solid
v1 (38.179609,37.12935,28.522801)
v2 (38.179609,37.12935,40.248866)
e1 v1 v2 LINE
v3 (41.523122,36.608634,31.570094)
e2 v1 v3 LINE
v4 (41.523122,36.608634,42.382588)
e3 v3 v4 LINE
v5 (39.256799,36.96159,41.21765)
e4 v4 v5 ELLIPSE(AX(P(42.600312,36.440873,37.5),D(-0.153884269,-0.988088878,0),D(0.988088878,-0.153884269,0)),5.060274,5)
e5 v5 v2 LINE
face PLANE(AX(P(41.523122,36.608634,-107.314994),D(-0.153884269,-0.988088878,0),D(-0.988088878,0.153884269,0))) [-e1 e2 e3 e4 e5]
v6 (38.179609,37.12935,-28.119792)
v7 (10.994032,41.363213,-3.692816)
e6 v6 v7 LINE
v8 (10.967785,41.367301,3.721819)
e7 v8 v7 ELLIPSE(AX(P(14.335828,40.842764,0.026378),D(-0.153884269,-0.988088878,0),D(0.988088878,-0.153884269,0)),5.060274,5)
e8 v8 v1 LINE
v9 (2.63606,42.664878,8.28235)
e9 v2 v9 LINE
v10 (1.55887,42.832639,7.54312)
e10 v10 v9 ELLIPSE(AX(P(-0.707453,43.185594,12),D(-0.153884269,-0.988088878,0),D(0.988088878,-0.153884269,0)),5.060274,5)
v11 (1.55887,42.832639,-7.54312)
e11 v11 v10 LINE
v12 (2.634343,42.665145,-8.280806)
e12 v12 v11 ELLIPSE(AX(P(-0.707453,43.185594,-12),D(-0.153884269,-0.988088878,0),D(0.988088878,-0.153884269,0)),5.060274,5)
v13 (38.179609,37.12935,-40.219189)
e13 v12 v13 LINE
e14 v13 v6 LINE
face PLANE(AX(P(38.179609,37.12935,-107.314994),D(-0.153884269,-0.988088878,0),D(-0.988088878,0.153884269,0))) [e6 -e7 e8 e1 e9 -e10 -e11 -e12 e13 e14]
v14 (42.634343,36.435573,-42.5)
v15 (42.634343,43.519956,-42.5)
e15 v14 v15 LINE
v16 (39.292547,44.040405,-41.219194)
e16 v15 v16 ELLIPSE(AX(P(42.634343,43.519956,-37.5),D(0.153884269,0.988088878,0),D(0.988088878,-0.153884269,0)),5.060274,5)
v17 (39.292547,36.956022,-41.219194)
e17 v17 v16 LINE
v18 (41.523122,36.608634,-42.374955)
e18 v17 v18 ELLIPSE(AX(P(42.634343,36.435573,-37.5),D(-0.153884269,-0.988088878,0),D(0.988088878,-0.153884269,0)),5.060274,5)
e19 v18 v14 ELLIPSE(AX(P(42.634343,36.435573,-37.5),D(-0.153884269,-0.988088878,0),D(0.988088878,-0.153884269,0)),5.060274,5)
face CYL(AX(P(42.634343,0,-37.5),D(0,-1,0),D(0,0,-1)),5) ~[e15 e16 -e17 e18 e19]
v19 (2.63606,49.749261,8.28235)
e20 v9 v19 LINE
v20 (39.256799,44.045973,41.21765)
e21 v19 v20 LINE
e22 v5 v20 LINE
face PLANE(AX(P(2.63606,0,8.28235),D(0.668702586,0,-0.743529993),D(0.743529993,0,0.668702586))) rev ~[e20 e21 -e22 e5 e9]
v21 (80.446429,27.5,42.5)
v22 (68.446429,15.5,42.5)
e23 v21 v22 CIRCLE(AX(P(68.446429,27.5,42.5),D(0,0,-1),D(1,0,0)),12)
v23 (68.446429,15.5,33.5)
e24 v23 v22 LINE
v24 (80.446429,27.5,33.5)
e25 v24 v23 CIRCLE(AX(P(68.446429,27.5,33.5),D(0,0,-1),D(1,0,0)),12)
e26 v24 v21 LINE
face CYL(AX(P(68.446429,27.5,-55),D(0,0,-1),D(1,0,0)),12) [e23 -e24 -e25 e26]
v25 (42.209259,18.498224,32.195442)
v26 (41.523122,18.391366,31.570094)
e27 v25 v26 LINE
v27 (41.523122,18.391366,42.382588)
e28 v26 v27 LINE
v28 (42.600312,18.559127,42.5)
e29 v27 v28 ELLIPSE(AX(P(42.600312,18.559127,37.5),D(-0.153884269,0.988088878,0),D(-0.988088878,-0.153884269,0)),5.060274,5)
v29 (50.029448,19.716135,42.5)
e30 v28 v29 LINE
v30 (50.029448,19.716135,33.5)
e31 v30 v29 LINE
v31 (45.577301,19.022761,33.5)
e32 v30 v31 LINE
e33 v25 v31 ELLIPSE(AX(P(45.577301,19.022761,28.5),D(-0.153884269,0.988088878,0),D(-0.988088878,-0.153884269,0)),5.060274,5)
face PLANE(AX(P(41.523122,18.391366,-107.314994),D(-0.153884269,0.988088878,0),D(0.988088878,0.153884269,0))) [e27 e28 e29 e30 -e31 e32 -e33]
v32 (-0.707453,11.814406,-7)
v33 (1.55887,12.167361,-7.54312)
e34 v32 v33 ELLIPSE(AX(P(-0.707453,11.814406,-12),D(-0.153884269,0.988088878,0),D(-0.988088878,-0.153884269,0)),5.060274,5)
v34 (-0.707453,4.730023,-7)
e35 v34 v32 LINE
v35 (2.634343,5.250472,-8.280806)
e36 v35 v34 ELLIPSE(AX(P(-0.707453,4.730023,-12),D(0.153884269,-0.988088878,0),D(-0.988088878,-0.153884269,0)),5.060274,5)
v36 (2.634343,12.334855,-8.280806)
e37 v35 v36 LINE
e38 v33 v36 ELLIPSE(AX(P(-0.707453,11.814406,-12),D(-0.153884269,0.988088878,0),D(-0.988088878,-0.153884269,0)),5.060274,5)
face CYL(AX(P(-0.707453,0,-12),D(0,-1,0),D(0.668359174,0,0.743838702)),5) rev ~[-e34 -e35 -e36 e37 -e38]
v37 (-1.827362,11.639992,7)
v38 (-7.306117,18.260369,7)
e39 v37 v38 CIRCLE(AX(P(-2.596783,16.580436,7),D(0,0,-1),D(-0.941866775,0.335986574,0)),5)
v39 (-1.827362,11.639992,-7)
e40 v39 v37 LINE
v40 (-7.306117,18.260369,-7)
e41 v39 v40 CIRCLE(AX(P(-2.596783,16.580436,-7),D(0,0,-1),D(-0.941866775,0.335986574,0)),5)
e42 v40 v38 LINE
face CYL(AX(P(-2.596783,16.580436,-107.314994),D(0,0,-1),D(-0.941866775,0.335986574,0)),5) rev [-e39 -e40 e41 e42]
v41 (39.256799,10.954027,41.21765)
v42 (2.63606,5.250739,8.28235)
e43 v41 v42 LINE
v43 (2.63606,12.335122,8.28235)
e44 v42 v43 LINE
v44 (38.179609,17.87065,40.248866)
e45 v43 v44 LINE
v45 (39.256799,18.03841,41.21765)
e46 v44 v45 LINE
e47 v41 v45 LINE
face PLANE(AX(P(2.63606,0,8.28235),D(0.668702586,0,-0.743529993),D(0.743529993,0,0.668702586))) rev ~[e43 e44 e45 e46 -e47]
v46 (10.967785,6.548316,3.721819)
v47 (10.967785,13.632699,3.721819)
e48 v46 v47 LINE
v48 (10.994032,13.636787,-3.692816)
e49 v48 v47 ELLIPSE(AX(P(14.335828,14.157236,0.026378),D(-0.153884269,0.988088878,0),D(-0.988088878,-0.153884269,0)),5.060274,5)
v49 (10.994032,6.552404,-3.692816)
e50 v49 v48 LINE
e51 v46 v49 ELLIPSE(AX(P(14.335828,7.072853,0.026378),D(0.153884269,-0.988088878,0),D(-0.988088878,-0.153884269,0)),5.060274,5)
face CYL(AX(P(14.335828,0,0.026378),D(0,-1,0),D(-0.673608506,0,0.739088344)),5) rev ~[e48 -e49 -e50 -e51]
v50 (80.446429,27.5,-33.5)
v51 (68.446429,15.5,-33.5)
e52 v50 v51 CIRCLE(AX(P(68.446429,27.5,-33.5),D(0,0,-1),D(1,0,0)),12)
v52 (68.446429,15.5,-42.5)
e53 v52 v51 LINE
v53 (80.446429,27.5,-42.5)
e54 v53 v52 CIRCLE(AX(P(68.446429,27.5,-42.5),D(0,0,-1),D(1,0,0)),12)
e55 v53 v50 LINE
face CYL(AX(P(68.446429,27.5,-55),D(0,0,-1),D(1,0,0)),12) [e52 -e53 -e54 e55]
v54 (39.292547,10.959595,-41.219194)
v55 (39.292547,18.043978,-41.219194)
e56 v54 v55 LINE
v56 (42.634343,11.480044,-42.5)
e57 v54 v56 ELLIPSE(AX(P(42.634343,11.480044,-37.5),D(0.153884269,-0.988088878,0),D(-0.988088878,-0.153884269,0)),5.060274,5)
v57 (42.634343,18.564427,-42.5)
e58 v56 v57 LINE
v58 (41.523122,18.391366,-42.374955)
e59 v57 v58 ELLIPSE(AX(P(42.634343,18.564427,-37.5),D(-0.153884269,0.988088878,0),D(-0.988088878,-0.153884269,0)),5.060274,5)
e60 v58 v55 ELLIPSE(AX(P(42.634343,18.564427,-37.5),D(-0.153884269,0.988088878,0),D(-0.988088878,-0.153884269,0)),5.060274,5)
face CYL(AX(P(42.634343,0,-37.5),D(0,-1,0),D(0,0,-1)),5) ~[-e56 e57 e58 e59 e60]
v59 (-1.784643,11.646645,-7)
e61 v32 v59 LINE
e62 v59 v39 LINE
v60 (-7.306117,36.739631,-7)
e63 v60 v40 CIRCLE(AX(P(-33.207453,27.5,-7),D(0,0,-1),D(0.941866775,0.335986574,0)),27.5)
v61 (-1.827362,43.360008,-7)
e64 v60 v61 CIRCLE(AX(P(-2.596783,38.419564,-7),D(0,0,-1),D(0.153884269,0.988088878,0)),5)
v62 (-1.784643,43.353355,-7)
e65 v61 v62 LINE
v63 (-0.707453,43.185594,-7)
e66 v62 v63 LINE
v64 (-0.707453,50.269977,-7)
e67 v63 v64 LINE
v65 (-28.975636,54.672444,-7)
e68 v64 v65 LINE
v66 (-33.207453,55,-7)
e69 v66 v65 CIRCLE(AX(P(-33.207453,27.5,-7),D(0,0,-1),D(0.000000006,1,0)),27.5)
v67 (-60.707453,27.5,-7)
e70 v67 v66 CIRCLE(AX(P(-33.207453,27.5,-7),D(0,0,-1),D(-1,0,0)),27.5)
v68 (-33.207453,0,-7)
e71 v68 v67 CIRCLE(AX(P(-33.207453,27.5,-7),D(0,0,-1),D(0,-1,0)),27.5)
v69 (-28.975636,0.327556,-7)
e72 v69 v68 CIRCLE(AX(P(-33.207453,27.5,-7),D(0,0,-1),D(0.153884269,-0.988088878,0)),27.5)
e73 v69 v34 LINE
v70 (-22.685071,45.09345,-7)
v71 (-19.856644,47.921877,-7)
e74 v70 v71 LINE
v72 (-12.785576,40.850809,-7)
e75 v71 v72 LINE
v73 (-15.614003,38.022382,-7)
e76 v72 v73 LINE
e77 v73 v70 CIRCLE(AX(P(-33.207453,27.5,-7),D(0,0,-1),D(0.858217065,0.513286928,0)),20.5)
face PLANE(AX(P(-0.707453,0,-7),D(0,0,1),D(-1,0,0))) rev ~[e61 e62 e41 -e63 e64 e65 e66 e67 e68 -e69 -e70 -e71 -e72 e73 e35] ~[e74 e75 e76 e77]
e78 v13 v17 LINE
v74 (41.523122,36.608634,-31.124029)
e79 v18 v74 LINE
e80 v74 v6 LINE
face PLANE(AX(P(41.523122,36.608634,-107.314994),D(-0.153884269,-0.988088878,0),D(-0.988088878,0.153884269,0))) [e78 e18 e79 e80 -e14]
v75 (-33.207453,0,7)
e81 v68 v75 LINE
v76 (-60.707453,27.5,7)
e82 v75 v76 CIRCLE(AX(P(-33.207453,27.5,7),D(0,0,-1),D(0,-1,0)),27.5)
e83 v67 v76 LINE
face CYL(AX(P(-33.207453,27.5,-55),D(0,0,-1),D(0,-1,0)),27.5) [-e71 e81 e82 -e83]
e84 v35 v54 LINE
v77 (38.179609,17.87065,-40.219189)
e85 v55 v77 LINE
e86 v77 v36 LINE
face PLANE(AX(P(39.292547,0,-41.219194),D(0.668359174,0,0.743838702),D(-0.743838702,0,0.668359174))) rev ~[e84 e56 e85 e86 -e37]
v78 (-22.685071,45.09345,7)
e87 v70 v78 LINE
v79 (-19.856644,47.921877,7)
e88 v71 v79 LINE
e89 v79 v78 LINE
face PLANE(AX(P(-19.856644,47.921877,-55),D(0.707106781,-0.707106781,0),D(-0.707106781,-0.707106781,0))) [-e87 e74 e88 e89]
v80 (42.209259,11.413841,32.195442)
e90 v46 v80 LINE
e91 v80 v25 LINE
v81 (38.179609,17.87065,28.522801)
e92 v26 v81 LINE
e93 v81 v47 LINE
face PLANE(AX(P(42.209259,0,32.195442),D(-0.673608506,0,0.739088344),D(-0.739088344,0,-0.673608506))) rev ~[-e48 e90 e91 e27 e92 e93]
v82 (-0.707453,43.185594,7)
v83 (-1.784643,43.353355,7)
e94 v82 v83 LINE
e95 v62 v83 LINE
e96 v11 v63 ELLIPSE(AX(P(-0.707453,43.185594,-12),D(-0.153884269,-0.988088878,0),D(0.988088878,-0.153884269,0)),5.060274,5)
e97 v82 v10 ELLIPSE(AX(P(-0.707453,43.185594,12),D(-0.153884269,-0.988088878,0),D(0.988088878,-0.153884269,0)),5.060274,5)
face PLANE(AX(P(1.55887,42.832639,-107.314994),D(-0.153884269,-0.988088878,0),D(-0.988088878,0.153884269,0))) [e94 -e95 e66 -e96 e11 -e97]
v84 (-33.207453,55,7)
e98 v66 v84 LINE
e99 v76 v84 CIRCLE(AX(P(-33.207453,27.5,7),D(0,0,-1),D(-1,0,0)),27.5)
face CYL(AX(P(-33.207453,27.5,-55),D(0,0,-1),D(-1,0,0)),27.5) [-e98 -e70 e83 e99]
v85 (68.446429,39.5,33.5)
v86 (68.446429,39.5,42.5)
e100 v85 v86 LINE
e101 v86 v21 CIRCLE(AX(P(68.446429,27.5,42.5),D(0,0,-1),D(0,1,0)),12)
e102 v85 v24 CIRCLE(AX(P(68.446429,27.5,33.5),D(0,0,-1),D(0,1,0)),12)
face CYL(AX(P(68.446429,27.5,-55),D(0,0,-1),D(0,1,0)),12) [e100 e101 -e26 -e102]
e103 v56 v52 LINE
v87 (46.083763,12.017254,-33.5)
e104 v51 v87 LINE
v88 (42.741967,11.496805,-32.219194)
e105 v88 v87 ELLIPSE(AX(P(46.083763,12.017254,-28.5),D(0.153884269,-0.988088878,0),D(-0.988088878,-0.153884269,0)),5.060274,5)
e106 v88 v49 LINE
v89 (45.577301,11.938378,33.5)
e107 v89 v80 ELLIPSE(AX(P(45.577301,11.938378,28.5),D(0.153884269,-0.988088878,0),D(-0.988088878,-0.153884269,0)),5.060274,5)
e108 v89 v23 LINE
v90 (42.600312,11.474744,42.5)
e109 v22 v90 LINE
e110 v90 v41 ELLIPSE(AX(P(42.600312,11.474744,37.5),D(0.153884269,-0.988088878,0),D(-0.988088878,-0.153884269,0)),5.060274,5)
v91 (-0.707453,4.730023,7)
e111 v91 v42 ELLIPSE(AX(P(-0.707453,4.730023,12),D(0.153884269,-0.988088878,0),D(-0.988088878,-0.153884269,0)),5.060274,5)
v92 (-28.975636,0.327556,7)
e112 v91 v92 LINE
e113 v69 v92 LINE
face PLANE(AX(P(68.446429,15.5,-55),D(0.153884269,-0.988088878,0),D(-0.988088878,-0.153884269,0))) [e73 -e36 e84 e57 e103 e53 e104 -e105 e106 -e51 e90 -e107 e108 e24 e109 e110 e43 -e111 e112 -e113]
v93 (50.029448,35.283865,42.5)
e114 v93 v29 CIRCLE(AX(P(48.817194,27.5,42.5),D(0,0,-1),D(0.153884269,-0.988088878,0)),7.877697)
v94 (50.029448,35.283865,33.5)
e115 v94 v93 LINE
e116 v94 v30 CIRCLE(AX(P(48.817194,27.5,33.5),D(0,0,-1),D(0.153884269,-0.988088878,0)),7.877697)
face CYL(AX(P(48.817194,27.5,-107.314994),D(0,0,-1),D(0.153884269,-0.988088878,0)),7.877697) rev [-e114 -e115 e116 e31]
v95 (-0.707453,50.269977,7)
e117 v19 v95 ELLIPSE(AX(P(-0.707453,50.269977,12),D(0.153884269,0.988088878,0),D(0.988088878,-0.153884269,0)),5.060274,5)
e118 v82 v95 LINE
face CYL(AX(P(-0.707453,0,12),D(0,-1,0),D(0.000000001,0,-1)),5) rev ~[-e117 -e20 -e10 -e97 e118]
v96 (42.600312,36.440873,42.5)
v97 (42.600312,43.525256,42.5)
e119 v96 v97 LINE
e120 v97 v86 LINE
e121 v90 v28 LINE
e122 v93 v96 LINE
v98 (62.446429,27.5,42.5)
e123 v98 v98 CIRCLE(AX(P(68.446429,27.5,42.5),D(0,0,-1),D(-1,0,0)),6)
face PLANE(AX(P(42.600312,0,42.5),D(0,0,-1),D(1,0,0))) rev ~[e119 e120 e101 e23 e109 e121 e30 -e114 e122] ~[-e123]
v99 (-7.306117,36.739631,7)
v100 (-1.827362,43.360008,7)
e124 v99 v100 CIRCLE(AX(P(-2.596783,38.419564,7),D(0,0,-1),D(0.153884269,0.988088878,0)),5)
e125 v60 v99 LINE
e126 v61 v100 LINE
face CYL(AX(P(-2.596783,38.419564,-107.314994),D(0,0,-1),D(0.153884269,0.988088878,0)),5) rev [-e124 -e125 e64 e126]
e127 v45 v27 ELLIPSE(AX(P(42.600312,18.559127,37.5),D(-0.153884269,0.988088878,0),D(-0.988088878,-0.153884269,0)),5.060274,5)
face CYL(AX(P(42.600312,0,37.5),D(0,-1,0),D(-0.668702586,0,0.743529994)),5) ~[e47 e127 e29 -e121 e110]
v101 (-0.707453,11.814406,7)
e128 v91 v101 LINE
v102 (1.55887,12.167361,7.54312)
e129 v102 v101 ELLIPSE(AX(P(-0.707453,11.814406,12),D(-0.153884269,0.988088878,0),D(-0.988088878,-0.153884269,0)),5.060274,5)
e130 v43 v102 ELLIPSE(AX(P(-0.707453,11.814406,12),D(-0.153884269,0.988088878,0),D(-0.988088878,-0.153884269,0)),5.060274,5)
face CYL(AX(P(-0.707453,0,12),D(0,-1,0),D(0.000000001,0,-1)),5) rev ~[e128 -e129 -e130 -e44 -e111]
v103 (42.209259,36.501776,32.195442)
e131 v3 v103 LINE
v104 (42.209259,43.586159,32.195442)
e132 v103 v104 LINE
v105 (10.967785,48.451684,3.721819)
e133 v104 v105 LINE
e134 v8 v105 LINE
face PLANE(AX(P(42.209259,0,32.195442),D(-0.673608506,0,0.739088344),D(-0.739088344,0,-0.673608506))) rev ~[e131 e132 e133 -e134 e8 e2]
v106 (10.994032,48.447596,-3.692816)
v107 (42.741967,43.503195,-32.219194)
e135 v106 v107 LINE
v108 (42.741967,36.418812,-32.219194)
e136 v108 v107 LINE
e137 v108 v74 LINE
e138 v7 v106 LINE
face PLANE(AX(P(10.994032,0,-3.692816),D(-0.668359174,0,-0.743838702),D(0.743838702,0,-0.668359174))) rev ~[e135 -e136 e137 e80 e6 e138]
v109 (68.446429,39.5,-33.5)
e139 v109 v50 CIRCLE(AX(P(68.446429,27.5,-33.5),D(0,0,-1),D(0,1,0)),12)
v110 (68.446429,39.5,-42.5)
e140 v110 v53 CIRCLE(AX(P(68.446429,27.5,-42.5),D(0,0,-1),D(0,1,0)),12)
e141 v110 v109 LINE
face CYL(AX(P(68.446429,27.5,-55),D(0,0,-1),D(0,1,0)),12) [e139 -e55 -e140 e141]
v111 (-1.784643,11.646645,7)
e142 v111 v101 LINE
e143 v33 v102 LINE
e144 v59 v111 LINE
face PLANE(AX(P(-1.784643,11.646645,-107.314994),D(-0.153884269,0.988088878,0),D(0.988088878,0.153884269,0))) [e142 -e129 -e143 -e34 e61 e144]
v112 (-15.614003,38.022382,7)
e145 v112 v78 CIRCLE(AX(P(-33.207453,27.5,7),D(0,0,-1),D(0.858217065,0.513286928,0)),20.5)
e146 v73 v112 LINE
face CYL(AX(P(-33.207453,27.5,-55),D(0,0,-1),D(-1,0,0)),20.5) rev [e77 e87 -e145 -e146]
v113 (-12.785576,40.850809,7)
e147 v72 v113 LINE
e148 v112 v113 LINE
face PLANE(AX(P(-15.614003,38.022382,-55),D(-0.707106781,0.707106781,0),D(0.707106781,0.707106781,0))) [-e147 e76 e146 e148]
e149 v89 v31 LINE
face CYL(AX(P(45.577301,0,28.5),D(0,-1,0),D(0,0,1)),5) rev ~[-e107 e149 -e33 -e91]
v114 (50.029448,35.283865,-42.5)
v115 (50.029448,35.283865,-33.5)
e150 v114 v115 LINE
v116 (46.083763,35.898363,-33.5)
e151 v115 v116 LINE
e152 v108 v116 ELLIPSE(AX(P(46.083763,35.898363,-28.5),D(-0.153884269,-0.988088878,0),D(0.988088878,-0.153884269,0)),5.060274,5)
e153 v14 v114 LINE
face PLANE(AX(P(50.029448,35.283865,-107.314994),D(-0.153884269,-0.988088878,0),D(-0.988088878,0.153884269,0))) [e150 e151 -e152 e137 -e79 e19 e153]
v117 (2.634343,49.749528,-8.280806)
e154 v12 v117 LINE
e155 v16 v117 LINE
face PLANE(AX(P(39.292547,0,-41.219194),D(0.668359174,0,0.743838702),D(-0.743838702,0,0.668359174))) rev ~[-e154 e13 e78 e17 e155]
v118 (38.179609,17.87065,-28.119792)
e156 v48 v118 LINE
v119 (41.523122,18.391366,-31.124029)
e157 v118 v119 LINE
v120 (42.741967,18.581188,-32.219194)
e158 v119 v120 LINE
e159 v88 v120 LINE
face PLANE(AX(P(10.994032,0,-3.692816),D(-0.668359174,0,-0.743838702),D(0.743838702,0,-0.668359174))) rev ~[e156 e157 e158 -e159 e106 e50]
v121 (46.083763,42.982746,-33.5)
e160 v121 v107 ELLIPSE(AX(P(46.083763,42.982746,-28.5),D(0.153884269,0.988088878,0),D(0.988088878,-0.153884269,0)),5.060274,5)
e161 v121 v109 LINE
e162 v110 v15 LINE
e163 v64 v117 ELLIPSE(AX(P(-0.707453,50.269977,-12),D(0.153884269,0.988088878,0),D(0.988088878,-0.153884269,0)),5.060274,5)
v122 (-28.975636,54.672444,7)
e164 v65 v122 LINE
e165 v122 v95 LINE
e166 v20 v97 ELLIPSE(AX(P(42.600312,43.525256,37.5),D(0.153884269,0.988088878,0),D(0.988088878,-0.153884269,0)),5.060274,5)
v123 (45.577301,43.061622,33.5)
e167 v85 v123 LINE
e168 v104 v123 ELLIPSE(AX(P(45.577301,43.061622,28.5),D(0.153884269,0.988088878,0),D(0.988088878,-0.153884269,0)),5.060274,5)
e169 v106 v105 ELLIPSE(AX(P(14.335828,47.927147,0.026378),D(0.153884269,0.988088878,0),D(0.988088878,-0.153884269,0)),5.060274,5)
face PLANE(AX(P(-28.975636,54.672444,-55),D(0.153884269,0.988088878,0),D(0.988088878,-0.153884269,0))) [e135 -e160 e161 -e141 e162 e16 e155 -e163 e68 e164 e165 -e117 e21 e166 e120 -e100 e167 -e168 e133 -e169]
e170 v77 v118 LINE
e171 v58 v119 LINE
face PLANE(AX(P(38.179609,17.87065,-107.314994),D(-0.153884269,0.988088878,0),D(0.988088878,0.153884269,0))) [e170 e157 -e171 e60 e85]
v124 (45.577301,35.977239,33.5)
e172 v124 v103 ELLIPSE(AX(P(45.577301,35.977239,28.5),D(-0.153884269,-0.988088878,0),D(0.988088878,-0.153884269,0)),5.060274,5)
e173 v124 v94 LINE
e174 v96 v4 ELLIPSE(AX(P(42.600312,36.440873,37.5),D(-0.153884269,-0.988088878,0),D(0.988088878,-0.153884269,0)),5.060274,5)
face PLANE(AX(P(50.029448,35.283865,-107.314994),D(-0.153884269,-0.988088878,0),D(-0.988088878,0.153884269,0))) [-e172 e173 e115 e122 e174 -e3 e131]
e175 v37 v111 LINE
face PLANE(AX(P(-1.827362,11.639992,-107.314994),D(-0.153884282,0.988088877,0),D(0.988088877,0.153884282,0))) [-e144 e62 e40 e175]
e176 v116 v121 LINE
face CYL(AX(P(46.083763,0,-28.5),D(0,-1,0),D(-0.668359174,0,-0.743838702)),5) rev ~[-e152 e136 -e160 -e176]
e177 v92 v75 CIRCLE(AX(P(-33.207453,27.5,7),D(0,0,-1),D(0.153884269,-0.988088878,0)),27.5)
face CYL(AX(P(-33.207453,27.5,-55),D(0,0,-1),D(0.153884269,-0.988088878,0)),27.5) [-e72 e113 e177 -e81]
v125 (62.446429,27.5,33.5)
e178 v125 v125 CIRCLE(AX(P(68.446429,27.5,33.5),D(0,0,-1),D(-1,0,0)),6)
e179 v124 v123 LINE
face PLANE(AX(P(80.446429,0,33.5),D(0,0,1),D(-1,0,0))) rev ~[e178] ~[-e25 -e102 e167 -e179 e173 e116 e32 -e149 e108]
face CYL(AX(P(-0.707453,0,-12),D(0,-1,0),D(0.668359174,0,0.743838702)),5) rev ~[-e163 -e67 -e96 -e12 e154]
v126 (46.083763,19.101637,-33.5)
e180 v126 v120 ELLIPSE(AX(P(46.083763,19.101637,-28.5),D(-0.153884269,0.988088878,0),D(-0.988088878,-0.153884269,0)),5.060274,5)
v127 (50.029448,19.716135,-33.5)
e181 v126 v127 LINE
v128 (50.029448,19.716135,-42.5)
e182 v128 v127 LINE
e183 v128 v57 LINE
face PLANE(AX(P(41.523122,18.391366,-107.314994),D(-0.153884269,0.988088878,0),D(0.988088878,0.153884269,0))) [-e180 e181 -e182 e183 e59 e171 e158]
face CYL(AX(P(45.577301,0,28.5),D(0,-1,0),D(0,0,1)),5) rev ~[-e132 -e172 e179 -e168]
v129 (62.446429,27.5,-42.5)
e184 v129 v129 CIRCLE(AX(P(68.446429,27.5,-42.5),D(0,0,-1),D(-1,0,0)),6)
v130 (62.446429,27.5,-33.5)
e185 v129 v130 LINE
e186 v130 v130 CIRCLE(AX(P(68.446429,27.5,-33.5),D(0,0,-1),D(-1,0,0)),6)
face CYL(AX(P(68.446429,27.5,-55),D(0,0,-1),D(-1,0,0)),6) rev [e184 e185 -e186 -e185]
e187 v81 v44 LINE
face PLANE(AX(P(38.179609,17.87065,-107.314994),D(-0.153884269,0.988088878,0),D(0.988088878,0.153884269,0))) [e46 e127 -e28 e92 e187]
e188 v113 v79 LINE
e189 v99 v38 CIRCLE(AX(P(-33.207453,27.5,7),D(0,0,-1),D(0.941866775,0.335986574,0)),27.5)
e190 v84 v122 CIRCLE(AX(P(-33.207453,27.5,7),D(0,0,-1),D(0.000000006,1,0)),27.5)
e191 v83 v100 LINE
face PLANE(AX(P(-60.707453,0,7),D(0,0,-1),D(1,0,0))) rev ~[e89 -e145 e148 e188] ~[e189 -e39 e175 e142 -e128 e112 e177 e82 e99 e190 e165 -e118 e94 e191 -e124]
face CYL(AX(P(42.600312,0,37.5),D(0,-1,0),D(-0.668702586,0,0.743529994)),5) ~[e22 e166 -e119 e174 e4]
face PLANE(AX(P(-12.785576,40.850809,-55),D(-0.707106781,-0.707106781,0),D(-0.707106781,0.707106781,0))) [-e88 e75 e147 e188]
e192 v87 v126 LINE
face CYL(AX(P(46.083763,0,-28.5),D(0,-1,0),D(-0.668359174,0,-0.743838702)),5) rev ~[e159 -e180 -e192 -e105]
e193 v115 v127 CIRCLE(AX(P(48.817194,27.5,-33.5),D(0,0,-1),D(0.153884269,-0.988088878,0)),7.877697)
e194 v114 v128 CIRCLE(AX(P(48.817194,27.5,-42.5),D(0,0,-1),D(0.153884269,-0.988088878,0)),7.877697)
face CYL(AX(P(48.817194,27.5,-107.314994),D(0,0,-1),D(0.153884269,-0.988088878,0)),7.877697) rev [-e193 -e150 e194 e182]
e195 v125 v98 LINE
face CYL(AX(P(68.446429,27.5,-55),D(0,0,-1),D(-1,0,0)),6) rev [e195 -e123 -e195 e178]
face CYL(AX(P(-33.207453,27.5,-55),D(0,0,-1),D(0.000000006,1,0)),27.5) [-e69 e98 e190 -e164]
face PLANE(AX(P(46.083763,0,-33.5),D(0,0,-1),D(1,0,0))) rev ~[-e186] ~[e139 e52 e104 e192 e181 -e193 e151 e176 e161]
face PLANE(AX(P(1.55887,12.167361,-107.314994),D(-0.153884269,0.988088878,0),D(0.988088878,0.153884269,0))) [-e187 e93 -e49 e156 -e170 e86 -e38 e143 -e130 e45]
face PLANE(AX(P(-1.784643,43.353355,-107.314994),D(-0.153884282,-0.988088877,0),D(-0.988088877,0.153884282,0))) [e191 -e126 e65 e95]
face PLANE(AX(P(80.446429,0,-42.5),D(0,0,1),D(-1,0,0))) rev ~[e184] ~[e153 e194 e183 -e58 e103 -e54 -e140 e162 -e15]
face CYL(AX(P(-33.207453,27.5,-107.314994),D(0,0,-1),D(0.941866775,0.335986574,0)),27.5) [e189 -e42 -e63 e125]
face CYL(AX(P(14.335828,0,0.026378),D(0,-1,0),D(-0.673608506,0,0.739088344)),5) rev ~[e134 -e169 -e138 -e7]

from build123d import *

# Parameters (mm, degrees)
Y_KSEKLIK_EKSTR_ZYON1_DEPTH = 55
KES_EKSTR_ZYON1_DEPTH       = 55
KES_EKSTR_ZYON1_DEPTH_BACK  = 55
IZIM4_R                     = 20.5
IZIM4_R_2                   = 6
KES_EKSTR_ZYON2_DEPTH       = 55
KES_EKSTR_ZYON2_DEPTH_BACK  = 55
KES_EKSTR_ZYON3_DEPTH       = 107.314994316
KES_EKSTR_ZYON3_DEPTH_BACK  = 107.314994316


with BuildPart() as part:
    # Çizim2 → Yükseklik-Ekstrüzyon1 (new body)
    with BuildSketch(Plane(origin=(0, 0, 0), x_dir=(1, 0, 0), z_dir=(0, 1, 0))):
        with BuildLine():
            Line((-60.70745329, -7), (-0.70745329, -7))
            ThreePointArc((-0.70745329, -7), (1.083042474, -7.331582183), (2.636059642, -8.282350033))
            Line((2.636059642, -8.282350033), (39.256799322, -41.217649967))
            ThreePointArc((39.256799322, -41.217649967), (40.809816489, -42.168417817), (42.600312254, -42.5))
            Line((42.600312254, -42.5), (80.446429482, -42.5))
            Line((80.446429482, -42.5), (80.446429482, -33.5))
            Line((80.446429482, -33.5), (45.577301243, -33.5))
            ThreePointArc((45.577301243, -33.5), (43.771367773, -33.162467619), (42.209258712, -32.19544172))
            Line((42.209258712, -32.19544172), (10.967785126, -3.72181941))
            ThreePointArc((10.967785126, -3.72181941), (9.335858983, -0.008678576), (10.994031787, 3.692815818))
            Line((10.994031787, 3.692815818), (42.741966981, 32.219193509))
            ThreePointArc((42.741966981, 32.219193509), (44.294345006, 33.168831093), (46.083762852, 33.5))
            Line((46.083762852, 33.5), (80.446429482, 33.5))
            Line((80.446429482, 33.5), (80.446429482, 42.5))
            Line((80.446429482, 42.5), (42.634342581, 42.5))
            ThreePointArc((42.634342581, 42.5), (40.844924735, 42.168831093), (39.29254671, 41.219193509))
            Line((39.29254671, 41.219193509), (2.634342581, 8.280806491))
            ThreePointArc((2.634342581, 8.280806491), (1.081964556, 7.331168907), (-0.70745329, 7))
            Line((-0.70745329, 7), (-60.70745329, 7))
            Line((-60.70745329, 7), (-60.70745329, -7))
        make_face()
    extrude(amount=Y_KSEKLIK_EKSTR_ZYON1_DEPTH)

    # Çizim4 → Kes-Ekstrüzyon1 (cut, two sides: drawn at the far end of the back side and taken through both)
    with BuildSketch(Plane.XY.offset(-KES_EKSTR_ZYON1_DEPTH_BACK)):
        with BuildLine():
            Line((-28.975635888, 54.672444157), (68.446429482, 39.5))
            ThreePointArc((68.446429482, 39.5), (76.931710856, 35.985281374), (80.446429482, 27.5))
            Line((80.446429482, 27.5), (80.446429482, 55))
            Line((80.446429482, 55), (-33.207453133, 55))
            ThreePointArc((-33.207453133, 55), (-31.085215516, 54.917988745), (-28.975635888, 54.672444157))
        make_face()
        with BuildLine():
            Line((80.446429482, 0), (80.446429482, 27.5))
            ThreePointArc((80.446429482, 27.5), (76.931710856, 19.014718626), (68.446429482, 15.5))
            Line((68.446429482, 15.5), (-28.975635888, 0.327555843))
            ThreePointArc((-28.975635888, 0.327555843), (-31.085215594, 0.082011249), (-33.20745329, 0))
            Line((-33.20745329, 0), (80.446429482, 0))
        make_face()
        with BuildLine():
            ThreePointArc((-60.70745329, 27.5), (-52.652889717, 46.945436538), (-33.207453133, 55))
            Line((-33.207453133, 55), (-60.70745329, 55))
            Line((-60.70745329, 55), (-60.70745329, 27.5))
        make_face()
        with BuildLine():
            ThreePointArc((-33.20745329, 0), (-52.652889773, 8.054563517), (-60.70745329, 27.5))
            Line((-60.70745329, 27.5), (-60.70745329, 0))
            Line((-60.70745329, 0), (-33.20745329, 0))
        make_face()
        with Locations(Location((-33.20745329, 27.5, 0), (0, 0, 180))):
            Circle(IZIM4_R)
        with Locations(Location((68.446429482, 27.5, 0), (0, 0, 180))):
            Circle(IZIM4_R_2)
    extrude(amount=KES_EKSTR_ZYON1_DEPTH + KES_EKSTR_ZYON1_DEPTH_BACK, mode=Mode.SUBTRACT)

    # Çizim7 → Kes-Ekstrüzyon2 (cut, two sides: drawn at the far end of the back side and taken through both)
    with BuildSketch(Plane.XY.offset(-KES_EKSTR_ZYON2_DEPTH_BACK)):
        with BuildLine():
            Line((-15.614003465, 38.022382014), (-12.78557634, 40.850809138))
            Line((-12.78557634, 40.850809138), (-19.856644152, 47.92187695))
            Line((-19.856644152, 47.92187695), (-22.685071277, 45.093449825))
            ThreePointArc((-22.685071277, 45.093449825), (-18.711764276, 41.995689014), (-15.614003465, 38.022382014))
        make_face()
    extrude(amount=KES_EKSTR_ZYON2_DEPTH + KES_EKSTR_ZYON2_DEPTH_BACK, mode=Mode.SUBTRACT)

    # Çizim8 → Kes-Ekstrüzyon3 (cut, two sides: drawn at the far end of the back side and taken through both)
    with BuildSketch(Plane.XY.offset(-KES_EKSTR_ZYON3_DEPTH_BACK)):
        with BuildLine():
            Line((-1.827361747, 11.63999197), (-1.784643175, 11.646644931))
            Line((-1.784643175, 11.646644931), (1.558869757, 12.16736129))
            Line((1.558869757, 12.16736129), (38.179609438, 17.870649613))
            Line((38.179609438, 17.870649613), (41.52312237, 18.391365973))
            Line((41.52312237, 18.391365973), (50.029447873, 19.716135143))
            ThreePointArc((50.029447873, 19.716135143), (56.694891282, 27.5), (50.029447873, 35.283864857))
            Line((50.029447873, 35.283864857), (41.52312237, 36.608634027))
            Line((41.52312237, 36.608634027), (38.179609438, 37.129350387))
            Line((38.179609438, 37.129350387), (1.558869757, 42.83263871))
            Line((1.558869757, 42.83263871), (-1.784643175, 43.353355069))
            Line((-1.784643175, 43.353355069), (-1.827361747, 43.36000803))
            ThreePointArc((-1.827361747, 43.36000803), (-6.448805477, 41.607340849), (-7.306116969, 36.73963077))
            ThreePointArc((-7.306116969, 36.73963077), (-5.70745329, 27.5), (-7.306116969, 18.26036923))
            ThreePointArc((-7.306116969, 18.26036923), (-6.448805477, 13.392659151), (-1.827361747, 11.63999197))
        make_face()
    extrude(amount=KES_EKSTR_ZYON3_DEPTH + KES_EKSTR_ZYON3_DEPTH_BACK, mode=Mode.SUBTRACT)


solid = part.part
